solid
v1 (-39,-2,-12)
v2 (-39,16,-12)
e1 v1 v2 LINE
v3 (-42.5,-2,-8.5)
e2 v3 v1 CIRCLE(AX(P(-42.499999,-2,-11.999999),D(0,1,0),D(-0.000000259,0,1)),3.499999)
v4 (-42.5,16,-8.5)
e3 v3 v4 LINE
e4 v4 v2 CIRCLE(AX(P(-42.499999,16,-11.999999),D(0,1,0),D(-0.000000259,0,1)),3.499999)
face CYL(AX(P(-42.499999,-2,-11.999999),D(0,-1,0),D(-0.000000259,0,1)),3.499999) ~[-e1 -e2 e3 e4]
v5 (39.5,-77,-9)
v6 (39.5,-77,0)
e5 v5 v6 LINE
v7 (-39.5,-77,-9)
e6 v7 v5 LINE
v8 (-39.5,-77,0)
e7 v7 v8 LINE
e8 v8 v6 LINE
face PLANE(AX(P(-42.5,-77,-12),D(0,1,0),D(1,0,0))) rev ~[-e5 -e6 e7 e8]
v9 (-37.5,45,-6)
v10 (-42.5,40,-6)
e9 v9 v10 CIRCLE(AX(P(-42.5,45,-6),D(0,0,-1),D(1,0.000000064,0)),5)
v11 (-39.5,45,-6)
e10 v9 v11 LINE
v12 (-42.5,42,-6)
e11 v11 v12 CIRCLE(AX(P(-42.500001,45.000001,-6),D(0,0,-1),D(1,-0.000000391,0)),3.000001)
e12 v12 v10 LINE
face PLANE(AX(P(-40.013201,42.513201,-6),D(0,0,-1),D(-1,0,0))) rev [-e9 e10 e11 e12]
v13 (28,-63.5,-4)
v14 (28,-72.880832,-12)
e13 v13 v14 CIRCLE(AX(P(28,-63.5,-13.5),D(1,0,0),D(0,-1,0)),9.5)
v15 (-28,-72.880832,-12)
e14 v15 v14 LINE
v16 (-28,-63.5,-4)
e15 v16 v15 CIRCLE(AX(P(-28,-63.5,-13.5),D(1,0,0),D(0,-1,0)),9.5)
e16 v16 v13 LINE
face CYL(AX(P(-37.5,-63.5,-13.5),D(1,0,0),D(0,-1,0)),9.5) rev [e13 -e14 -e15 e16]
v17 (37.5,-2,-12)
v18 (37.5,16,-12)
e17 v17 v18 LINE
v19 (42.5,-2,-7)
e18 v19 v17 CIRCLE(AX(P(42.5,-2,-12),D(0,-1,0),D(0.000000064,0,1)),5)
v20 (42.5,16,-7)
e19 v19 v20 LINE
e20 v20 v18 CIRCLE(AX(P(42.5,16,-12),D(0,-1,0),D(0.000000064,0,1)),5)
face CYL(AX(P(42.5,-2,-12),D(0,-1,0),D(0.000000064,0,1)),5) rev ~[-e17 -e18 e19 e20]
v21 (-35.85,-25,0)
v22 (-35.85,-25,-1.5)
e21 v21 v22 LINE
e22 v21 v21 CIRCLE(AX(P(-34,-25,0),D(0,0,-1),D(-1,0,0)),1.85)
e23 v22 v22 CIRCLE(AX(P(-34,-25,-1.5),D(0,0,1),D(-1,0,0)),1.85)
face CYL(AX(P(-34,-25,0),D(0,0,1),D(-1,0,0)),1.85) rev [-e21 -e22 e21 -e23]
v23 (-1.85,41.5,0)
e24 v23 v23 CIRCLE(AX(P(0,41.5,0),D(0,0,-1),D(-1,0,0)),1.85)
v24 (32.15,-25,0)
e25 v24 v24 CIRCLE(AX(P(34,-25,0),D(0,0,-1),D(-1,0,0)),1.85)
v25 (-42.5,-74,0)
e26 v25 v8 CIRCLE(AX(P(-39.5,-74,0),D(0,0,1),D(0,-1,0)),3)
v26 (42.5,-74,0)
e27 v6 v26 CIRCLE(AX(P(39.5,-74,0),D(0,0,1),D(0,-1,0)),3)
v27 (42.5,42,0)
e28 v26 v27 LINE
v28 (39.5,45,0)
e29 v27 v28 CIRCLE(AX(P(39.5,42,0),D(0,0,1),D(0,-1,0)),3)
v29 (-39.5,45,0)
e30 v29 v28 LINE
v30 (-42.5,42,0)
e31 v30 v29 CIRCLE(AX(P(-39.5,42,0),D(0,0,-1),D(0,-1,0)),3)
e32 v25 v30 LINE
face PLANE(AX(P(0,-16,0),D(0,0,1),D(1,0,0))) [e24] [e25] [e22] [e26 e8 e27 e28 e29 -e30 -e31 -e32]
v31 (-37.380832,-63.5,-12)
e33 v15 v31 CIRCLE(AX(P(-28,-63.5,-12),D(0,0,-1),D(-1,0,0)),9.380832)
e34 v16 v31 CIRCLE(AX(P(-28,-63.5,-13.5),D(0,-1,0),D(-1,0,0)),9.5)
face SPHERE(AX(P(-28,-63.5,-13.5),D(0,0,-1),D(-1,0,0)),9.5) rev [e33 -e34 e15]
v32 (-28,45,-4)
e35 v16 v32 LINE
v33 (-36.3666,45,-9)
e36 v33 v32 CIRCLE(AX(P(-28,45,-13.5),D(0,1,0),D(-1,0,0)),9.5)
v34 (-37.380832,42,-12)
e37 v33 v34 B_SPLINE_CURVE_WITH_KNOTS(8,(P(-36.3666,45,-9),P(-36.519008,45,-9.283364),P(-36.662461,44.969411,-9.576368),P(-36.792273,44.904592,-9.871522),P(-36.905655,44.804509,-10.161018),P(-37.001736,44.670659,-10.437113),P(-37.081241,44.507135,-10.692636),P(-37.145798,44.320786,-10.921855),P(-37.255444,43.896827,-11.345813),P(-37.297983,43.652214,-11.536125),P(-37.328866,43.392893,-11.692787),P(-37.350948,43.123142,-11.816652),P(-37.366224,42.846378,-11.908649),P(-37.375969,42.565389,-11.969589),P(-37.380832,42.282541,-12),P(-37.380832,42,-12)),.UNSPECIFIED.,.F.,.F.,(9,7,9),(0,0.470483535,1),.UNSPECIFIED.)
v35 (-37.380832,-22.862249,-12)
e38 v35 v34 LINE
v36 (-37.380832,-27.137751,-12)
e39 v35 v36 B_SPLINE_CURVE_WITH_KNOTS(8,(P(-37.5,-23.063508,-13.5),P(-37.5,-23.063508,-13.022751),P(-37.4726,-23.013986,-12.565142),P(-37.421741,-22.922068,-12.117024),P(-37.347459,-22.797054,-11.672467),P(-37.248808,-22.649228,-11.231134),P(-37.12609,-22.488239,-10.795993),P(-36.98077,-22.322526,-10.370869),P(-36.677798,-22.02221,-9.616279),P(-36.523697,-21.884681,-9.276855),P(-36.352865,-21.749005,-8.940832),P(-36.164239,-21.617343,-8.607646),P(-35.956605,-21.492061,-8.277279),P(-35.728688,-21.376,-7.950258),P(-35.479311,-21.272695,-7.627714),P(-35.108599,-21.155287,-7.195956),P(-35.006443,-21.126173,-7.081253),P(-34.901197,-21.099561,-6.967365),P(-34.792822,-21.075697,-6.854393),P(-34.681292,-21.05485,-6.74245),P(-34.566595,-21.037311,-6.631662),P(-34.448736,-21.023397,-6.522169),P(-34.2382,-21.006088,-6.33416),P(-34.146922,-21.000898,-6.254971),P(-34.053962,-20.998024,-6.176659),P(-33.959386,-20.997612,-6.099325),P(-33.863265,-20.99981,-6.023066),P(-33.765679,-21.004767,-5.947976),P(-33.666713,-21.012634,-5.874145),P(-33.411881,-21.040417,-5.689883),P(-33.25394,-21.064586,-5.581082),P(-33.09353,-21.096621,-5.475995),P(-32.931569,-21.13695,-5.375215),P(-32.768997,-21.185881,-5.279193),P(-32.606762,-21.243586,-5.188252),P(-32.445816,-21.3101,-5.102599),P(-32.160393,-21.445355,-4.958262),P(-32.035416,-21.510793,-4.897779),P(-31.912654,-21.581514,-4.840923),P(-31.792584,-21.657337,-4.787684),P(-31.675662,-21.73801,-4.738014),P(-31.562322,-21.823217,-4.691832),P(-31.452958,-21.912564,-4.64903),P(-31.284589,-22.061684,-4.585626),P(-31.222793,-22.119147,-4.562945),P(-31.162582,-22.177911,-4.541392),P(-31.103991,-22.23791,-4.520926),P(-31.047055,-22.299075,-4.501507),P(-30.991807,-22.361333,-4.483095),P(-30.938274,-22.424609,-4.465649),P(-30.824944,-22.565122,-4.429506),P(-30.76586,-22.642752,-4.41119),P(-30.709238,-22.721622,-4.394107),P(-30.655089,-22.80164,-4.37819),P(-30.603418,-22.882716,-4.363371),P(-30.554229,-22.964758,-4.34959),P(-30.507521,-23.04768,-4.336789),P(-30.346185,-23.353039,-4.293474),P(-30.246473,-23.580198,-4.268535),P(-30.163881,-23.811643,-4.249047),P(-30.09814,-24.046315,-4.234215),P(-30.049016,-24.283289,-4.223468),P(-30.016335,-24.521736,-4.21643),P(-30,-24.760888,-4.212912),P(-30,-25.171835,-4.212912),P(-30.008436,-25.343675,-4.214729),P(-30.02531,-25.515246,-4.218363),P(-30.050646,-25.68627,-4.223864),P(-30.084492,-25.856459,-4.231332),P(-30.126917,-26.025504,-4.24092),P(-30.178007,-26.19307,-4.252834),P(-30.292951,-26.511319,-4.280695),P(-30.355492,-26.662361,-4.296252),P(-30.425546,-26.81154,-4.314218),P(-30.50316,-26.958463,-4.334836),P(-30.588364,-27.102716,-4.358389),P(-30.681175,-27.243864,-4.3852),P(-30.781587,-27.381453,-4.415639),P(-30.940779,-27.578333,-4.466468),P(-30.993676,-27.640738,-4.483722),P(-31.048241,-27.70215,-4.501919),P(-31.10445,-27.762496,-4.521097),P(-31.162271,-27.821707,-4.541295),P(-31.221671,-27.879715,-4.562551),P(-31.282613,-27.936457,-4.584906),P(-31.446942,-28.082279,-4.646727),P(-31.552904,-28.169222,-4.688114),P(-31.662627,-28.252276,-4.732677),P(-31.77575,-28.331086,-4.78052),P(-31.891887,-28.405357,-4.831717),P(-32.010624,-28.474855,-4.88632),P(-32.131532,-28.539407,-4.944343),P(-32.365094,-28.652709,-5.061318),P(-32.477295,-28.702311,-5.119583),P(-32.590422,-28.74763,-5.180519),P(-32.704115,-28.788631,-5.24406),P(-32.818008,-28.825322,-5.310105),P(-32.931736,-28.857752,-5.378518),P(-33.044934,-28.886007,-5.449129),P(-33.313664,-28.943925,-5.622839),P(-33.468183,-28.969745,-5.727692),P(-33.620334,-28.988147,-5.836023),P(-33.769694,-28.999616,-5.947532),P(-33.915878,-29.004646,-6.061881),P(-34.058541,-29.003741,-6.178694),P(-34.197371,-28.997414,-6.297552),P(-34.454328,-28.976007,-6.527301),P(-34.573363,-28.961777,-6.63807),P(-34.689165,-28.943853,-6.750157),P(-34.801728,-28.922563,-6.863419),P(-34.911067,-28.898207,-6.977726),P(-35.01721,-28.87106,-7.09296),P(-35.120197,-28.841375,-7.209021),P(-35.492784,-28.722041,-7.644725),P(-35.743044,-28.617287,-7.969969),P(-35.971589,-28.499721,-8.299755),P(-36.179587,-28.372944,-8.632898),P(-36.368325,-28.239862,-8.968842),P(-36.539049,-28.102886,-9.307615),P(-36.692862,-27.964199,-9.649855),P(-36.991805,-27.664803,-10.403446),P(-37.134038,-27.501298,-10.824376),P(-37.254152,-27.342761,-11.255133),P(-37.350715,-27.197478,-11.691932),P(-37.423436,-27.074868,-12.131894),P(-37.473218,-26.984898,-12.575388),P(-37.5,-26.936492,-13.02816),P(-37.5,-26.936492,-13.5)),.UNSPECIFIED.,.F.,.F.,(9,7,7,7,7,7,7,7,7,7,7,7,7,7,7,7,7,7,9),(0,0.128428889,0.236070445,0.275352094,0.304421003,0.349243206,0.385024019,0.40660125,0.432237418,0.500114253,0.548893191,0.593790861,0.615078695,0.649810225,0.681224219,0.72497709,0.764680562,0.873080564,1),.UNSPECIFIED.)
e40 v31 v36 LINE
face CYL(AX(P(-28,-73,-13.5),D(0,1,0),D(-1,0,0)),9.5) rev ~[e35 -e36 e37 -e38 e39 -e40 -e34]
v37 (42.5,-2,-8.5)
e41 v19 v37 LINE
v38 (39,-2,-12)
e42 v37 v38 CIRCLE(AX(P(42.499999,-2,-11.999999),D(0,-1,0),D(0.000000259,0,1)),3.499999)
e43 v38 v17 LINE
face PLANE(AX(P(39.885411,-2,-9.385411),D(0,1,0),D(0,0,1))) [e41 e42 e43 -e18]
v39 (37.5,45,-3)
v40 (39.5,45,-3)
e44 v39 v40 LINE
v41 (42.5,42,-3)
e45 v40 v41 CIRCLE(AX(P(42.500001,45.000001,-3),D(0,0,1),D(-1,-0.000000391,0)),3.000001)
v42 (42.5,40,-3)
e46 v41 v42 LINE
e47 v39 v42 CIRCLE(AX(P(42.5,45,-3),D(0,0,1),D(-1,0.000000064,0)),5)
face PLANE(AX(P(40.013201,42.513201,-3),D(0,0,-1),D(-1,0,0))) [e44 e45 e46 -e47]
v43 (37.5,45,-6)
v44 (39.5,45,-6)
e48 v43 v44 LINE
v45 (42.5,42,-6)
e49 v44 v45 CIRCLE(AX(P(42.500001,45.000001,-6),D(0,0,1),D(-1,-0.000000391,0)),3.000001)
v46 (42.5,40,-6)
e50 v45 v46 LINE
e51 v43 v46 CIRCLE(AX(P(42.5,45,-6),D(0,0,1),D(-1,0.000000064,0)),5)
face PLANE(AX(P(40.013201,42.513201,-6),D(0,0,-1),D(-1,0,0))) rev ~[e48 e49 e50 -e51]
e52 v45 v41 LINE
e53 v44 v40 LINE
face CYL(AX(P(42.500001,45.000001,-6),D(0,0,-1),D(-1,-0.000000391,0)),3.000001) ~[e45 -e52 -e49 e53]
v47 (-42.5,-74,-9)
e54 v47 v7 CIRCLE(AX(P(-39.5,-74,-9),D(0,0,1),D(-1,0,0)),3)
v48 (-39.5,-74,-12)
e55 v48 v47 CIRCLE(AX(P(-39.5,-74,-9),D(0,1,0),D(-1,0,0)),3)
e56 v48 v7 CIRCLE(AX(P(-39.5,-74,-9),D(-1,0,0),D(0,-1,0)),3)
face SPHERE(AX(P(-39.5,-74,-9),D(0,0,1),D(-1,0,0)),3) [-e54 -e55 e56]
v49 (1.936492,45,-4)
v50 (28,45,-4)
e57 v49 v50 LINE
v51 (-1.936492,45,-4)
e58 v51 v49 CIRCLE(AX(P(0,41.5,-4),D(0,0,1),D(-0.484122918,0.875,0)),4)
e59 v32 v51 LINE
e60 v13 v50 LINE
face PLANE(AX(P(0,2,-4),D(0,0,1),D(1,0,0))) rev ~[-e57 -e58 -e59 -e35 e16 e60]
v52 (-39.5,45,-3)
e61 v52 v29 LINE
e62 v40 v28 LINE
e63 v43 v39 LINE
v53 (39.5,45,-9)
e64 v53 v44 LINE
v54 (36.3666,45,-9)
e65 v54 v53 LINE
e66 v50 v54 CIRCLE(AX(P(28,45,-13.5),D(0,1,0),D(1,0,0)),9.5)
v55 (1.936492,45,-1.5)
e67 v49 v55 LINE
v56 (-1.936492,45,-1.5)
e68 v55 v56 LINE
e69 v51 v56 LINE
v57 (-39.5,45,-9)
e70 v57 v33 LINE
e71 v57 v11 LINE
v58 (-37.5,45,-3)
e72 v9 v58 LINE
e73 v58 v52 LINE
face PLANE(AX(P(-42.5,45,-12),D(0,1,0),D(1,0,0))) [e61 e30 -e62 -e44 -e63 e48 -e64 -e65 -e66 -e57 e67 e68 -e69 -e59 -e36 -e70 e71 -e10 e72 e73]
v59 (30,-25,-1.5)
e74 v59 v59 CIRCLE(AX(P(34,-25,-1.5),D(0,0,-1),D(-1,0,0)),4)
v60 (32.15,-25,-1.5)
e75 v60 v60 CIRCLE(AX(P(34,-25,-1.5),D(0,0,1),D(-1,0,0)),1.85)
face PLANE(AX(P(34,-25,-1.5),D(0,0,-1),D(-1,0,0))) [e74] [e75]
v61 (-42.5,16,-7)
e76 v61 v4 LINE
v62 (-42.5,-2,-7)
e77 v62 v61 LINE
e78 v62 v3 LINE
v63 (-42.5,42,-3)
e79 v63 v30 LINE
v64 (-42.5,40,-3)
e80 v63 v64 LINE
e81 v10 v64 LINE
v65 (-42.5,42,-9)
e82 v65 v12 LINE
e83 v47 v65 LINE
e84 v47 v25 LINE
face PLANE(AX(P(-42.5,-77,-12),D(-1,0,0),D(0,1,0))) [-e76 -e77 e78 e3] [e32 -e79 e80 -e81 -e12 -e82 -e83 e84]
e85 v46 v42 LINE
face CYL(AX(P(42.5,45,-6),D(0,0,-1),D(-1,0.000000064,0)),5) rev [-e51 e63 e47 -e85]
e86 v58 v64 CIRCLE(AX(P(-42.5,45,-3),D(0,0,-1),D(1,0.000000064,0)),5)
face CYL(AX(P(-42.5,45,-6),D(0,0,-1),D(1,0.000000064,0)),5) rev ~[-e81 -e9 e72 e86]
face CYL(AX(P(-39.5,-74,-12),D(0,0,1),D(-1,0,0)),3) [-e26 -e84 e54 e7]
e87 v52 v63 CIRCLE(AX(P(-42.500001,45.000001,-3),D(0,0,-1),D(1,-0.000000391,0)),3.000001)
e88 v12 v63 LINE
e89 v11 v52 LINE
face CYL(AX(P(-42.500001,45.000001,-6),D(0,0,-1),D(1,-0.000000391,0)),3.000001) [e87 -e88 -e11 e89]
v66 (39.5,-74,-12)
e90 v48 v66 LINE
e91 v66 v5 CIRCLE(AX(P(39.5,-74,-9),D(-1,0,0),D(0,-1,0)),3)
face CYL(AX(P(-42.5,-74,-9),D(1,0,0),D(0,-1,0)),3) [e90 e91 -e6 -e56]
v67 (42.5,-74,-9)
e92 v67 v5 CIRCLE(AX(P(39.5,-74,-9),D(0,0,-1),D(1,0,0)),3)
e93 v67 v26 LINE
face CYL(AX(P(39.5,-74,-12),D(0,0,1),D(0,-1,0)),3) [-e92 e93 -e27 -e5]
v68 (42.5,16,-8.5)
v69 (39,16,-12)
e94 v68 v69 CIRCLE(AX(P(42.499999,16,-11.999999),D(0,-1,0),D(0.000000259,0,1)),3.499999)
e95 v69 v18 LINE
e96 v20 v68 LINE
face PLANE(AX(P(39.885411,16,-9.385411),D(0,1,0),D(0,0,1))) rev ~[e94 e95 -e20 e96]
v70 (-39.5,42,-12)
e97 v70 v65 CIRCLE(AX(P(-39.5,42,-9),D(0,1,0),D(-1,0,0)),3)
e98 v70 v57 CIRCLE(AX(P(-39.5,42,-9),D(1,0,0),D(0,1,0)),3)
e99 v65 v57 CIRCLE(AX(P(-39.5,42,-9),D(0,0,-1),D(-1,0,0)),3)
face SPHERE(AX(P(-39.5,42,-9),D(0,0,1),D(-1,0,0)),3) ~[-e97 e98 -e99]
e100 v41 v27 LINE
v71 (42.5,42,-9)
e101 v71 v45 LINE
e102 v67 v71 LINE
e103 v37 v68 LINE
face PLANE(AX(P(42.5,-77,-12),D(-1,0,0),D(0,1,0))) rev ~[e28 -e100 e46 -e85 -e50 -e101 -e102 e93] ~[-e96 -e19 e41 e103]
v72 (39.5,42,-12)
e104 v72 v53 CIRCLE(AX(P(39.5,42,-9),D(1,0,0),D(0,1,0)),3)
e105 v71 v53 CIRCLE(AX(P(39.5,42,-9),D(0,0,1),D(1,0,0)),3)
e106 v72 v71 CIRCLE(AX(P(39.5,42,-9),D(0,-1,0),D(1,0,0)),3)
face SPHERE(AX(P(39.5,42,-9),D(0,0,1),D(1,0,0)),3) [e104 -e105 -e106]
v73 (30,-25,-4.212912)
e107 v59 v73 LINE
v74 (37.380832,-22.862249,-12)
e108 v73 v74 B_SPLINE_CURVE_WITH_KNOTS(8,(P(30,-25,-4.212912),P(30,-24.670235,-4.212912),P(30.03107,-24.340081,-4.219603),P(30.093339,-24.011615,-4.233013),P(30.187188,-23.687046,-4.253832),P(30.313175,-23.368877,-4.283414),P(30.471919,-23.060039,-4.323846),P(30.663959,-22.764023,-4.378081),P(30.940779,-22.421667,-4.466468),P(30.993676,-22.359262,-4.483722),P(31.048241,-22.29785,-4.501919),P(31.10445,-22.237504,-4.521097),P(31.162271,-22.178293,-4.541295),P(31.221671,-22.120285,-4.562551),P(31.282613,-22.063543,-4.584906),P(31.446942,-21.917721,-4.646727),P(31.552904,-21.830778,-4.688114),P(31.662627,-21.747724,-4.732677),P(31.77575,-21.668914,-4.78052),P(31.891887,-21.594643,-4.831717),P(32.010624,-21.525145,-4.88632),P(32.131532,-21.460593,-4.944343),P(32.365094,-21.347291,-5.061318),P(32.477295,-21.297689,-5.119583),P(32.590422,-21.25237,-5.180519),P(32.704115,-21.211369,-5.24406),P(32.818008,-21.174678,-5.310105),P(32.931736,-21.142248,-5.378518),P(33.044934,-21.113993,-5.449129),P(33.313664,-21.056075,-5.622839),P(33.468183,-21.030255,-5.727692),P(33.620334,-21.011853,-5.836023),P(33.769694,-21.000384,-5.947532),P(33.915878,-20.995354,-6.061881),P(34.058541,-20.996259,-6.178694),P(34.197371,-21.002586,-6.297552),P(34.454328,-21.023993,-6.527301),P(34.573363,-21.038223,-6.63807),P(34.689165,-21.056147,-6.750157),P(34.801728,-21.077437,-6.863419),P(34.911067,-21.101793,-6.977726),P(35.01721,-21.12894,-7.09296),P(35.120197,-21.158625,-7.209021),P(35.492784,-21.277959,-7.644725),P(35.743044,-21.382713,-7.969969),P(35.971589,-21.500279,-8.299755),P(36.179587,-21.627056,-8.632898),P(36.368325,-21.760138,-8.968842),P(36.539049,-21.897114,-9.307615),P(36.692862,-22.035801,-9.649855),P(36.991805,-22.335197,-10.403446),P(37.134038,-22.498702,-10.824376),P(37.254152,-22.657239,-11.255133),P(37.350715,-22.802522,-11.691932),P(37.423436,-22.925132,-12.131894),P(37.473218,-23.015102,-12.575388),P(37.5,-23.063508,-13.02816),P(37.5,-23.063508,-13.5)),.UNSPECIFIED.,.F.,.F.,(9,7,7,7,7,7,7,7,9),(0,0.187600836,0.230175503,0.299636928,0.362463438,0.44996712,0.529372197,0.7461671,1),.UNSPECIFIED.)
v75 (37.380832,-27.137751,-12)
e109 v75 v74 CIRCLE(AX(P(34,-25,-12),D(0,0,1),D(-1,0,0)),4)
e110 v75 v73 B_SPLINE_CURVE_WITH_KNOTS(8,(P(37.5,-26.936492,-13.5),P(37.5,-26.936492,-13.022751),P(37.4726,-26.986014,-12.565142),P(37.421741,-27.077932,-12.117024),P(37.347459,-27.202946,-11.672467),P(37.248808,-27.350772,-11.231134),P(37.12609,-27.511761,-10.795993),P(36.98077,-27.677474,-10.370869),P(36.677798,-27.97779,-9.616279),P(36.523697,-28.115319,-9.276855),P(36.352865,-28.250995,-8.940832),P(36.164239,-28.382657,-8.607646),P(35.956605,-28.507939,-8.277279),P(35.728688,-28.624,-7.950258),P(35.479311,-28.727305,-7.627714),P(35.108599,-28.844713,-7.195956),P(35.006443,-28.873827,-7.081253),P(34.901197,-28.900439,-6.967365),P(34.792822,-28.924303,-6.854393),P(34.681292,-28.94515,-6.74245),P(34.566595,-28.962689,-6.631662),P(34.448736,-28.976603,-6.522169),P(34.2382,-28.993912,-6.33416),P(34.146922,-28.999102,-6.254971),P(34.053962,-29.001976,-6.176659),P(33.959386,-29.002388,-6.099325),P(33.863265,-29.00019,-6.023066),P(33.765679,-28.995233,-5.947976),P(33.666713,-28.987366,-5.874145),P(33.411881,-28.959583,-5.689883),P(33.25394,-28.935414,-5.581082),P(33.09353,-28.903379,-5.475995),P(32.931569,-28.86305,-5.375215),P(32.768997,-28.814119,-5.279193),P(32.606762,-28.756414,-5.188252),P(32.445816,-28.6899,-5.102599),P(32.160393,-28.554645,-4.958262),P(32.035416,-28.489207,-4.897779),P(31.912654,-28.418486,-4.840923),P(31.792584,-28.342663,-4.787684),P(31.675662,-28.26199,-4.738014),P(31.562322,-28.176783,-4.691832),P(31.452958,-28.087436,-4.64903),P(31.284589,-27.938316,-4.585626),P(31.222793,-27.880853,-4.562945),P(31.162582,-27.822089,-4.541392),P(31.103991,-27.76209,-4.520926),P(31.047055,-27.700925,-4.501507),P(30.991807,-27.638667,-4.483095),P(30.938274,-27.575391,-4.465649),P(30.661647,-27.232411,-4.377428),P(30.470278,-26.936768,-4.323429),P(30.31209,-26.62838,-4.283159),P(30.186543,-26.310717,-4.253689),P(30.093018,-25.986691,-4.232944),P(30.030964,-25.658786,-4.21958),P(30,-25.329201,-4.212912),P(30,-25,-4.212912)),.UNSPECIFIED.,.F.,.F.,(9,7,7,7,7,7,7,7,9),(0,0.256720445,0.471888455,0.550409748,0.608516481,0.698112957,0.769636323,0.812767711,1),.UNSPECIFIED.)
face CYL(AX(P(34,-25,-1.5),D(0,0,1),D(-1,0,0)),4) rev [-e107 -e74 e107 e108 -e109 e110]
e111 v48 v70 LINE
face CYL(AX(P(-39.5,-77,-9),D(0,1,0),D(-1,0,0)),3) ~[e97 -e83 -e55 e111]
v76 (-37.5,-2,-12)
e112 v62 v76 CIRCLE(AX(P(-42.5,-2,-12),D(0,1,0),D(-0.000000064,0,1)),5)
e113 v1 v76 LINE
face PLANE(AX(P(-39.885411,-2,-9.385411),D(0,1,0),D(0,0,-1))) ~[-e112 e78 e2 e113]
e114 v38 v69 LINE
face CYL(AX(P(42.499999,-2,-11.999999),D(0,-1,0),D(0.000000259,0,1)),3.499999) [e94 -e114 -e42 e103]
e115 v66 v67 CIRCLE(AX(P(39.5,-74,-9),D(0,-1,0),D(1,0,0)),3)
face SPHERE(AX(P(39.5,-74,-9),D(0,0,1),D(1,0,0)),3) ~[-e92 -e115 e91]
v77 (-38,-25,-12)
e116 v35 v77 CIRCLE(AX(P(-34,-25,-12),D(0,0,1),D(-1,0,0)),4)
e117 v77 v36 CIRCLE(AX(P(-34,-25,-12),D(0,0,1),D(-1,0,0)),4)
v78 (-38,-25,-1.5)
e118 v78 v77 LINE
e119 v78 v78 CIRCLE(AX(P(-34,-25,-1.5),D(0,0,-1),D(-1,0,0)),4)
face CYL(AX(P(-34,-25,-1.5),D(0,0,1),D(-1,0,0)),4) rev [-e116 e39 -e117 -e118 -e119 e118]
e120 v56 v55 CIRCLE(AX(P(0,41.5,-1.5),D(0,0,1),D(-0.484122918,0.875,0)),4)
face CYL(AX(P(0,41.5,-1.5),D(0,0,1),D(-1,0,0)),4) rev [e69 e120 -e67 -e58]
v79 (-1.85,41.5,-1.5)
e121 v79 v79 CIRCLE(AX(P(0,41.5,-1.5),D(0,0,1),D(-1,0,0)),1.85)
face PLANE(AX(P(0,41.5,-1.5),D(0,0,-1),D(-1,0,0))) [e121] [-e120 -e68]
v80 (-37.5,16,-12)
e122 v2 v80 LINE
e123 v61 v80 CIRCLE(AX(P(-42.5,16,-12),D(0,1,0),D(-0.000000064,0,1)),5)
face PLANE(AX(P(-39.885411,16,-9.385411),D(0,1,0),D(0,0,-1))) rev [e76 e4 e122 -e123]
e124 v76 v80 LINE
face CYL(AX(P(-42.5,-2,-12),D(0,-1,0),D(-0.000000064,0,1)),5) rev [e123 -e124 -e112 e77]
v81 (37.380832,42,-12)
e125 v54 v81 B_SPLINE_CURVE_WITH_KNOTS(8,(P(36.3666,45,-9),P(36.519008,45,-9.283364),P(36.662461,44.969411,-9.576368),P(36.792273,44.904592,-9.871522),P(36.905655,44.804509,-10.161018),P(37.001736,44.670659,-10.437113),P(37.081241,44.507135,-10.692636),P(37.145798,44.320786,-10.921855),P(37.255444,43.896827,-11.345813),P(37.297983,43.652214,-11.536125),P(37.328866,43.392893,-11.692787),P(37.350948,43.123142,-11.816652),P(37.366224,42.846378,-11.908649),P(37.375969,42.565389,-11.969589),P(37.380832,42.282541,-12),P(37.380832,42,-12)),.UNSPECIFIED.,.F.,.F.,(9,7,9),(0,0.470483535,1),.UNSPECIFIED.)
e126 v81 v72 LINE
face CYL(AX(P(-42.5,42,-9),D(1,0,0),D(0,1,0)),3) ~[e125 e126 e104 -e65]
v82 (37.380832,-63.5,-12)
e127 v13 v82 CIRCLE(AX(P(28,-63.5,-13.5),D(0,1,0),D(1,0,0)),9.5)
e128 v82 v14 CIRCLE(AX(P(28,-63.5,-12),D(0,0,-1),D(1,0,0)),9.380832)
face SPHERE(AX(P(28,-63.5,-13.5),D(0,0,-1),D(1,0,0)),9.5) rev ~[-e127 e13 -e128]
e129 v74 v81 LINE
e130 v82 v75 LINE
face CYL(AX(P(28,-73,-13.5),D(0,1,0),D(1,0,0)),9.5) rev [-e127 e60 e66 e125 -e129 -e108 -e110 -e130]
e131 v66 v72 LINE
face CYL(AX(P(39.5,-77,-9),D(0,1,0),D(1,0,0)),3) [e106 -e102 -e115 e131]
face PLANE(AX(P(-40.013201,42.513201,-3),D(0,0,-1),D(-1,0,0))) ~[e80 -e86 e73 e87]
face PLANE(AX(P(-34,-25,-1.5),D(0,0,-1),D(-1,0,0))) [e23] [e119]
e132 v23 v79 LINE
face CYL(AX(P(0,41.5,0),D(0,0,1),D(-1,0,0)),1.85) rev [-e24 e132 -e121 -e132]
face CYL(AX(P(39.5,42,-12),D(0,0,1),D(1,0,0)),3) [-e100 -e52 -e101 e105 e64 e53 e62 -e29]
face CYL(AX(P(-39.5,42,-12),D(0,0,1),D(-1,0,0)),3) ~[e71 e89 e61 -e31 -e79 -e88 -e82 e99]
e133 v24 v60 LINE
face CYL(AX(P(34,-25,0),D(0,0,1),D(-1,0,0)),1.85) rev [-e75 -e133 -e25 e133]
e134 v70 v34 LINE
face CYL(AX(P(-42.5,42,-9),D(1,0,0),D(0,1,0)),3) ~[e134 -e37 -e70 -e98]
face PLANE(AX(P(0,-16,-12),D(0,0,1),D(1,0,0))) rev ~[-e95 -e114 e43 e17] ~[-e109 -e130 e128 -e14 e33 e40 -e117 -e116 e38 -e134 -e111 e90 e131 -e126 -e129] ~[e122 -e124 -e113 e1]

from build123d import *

# Parameters (mm, degrees)
EXTRUDE032_DEPTH           = 3
EXTRUDE033_DEPTH           = 3
CYLINDER057_R              = 4
CYLINDER057_DEPTH          = 12
CYLINDER055_R              = 4
CYLINDER055_DEPTH          = 12
CYLINDER053_R              = 1.85
CYLINDER053_DEPTH          = 12
CYLINDER054_R              = 1.85
CYLINDER054_DEPTH          = 12
CYLINDER056_R              = 4
CYLINDER056_DEPTH          = 12
CYLINDER052_R              = 1.85
CYLINDER052_DEPTH          = 12
EXTRUDE035_DEPTH           = 18
EXTRUDE035_PLACEMENT_ANGLE = 90
EXTRUDE034_DEPTH           = 18
EXTRUDE034_PLACEMENT_ANGLE = 90
BOX019_W                   = 75
BOX019_H                   = 150
BOX019_DEPTH               = 25
FILLET017_R                = 9.5
BOX018_W                   = 85
BOX018_H                   = 122
BOX018_DEPTH               = 12
FILLET016_R                = 3


with BuildPart() as batterybackattachpocket:
    # Sketch007 → Extrude032 (new body)
    with BuildSketch(Plane.XY):
        with BuildLine():
            ThreePointArc((-3, 0), (-2.12132, -2.12132), (0, -3))
            Line((0, -3), (0, -5))
            ThreePointArc((-5, 0), (-3.535534, -3.535534), (0, -5))
            Line((-5, 0), (-3, 0))
        make_face()
    extrude(amount=EXTRUDE032_DEPTH)


with BuildPart() as batterybackattachpocket_1:
    # Extrude032 placement: moved
    add(batterybackattachpocket.part.moved(Location((42.5, 45, -6))))


with BuildPart() as batterybackattachpocketleft:
    # Part__Mirroring004: instance of BatteryBackAttachPocket
    add(batterybackattachpocket_1.part.mirror(Plane(origin=(0, 0, 0), x_dir=(0, -1, 0), z_dir=(1, 0, 0))))


with BuildPart() as batterybackattachpocketright:
    # Sketch008 → Extrude033 (new body)
    with BuildSketch(Plane.XY):
        with BuildLine():
            ThreePointArc((-3, 0), (-2.12132, -2.12132), (0, -3))
            Line((0, -3), (0, -5))
            ThreePointArc((-5, 0), (-3.535534, -3.535534), (0, -5))
            Line((-5, 0), (-3, 0))
        make_face()
    extrude(amount=EXTRUDE033_DEPTH)


with BuildPart() as batterybackattachpocketright_1:
    # Extrude033 placement: moved
    add(batterybackattachpocketright.part.moved(Location((42.5, 45, -6))))


with BuildPart() as batterybackscrewcountersink3:
    # Cylinder057 → Cylinder057 (new body)
    with BuildSketch(Plane(origin=(34, -25, -1.5), x_dir=(-1, 0, 0), z_dir=(0, 0, -1))):
        Circle(CYLINDER057_R)
    extrude(amount=CYLINDER057_DEPTH)


with BuildPart() as batterybackscrewcountersink1:
    # Cylinder055 → Cylinder055 (new body)
    with BuildSketch(Plane(origin=(0, 41.5, -1.5), x_dir=(-1, 0, 0), z_dir=(0, 0, -1))):
        Circle(CYLINDER055_R)
    extrude(amount=CYLINDER055_DEPTH)


with BuildPart() as batterybackscrewhole2:
    # Cylinder053 → Cylinder053 (new body)
    with BuildSketch(Plane(origin=(-34, -25, 0), x_dir=(-1, 0, 0), z_dir=(0, 0, -1))):
        Circle(CYLINDER053_R)
    extrude(amount=CYLINDER053_DEPTH)


with BuildPart() as batterybackscrewhole3:
    # Cylinder054 → Cylinder054 (new body)
    with BuildSketch(Plane(origin=(34, -25, 0), x_dir=(-1, 0, 0), z_dir=(0, 0, -1))):
        Circle(CYLINDER054_R)
    extrude(amount=CYLINDER054_DEPTH)


with BuildPart() as batterybackscrewcountersink2:
    # Cylinder056 → Cylinder056 (new body)
    with BuildSketch(Plane(origin=(-34, -25, -1.5), x_dir=(-1, 0, 0), z_dir=(0, 0, -1))):
        Circle(CYLINDER056_R)
    extrude(amount=CYLINDER056_DEPTH)


with BuildPart() as batterymountingpockets:
    # Cylinder052 → Cylinder052 (new body)
    with BuildSketch(Plane(origin=(0, 41.5, 0), x_dir=(-1, 0, 0), z_dir=(0, 0, -1))):
        Circle(CYLINDER052_R)
    extrude(amount=CYLINDER052_DEPTH)

    # Fusion048: union BatteryBackScrewCountersink3, BatteryBackScrewCountersink1, BatteryBackScrewHole2, BatteryBackScrewHole3, BatteryBackScrewCountersink2
    add(batterybackscrewcountersink3.part)
    add(batterybackscrewcountersink1.part)
    add(batterybackscrewhole2.part)
    add(batterybackscrewhole3.part)
    add(batterybackscrewcountersink2.part)


with BuildPart() as batterybackstrappocketleft:
    # Sketch010 → Extrude035 (new body)
    with BuildSketch(Plane.XZ):
        with BuildLine():
            ThreePointArc((-3.5, 0), (-2.474874, -2.474874), (0, -3.5))
            Line((0, -3.5), (0, -5))
            ThreePointArc((-5, 0), (-3.535534, -3.535534), (0, -5))
            Line((-5, 0), (-3.5, 0))
        make_face()
    extrude(amount=-EXTRUDE035_DEPTH)


with BuildPart() as batterybackstrappocketleft_1:
    # Extrude035 placement: moved
    add(batterybackstrappocketleft.part.moved(Location((42.5, -2, -12))).rotate(Axis((42.5, -2, -12), (0, 1, 0)), EXTRUDE035_PLACEMENT_ANGLE))


with BuildPart() as batterybackstrappocket:
    # Sketch009 → Extrude034 (new body)
    with BuildSketch(Plane.XZ):
        with BuildLine():
            ThreePointArc((-3.5, 0), (-2.474874, -2.474874), (0, -3.5))
            Line((0, -3.5), (0, -5))
            ThreePointArc((-5, 0), (-3.535534, -3.535534), (0, -5))
            Line((-5, 0), (-3.5, 0))
        make_face()
    extrude(amount=-EXTRUDE034_DEPTH)


with BuildPart() as batterybackstrappocket_1:
    # Extrude034 placement: moved
    add(batterybackstrappocket.part.moved(Location((42.5, -2, -12))).rotate(Axis((42.5, -2, -12), (0, 1, 0)), EXTRUDE034_PLACEMENT_ANGLE))


with BuildPart() as batterybackstrappocketright:
    # Part__Mirroring005: instance of BatteryBackStrapPocket
    add(batterybackstrappocket_1.part.mirror(Plane(origin=(0, 0, 0), x_dir=(0, -1, 0), z_dir=(1, 0, 0))))


with BuildPart() as batterybackcombinedpockets:
    # Box019 → Box019 (new body)
    with BuildSketch(Plane(origin=(-37.5, -73, -29), x_dir=(1, 0, 0), z_dir=(0, 0, 1))):
        with Locations((37.5, 75)):
            Rectangle(BOX019_W, BOX019_H)
    extrude(amount=BOX019_DEPTH)

    # Fillet017
    fillet017_edges = [batterybackcombinedpockets.edges().sort_by_distance(p)[0] for p in [
        (-37.5, -73, -16.5),
        (-37.5, 2, -4),
        (-37.5, 77, -16.5),
        (-37.5, 2, -29),
        (37.5, -73, -16.5),
        (37.5, 2, -4),
        (37.5, 77, -16.5),
        (37.5, 2, -29),
        (0, -73, -29),
        (0, -73, -4),
        (0, 77, -29),
        (0, 77, -4),
    ]]
    fillet(fillet017_edges, radius=FILLET017_R)

    # Fusion049: union BatteryBackAttachPocketLeft, BatteryBackAttachPocketRight, BatteryMountingPockets, BatteryBackStrapPocketLeft, BatteryBackStrapPocketRight
    add(batterybackattachpocketleft.part)
    add(batterybackattachpocketright_1.part)
    add(batterymountingpockets.part)
    add(batterybackstrappocketleft_1.part)
    add(batterybackstrappocketright.part)


with BuildPart() as toplevelpart_battteryback:
    # Box018 → Box018 (new body)
    with BuildSketch(Plane(origin=(-42.5, -77, -12), x_dir=(1, 0, 0), z_dir=(0, 0, 1))):
        with Locations((42.5, 61)):
            Rectangle(BOX018_W, BOX018_H)
    extrude(amount=BOX018_DEPTH)

    # Fillet016
    fillet016_edges = [toplevelpart_battteryback.edges().sort_by_distance(p)[0] for p in [
        (-42.5, -77, -6),
        (-42.5, 45, -6),
        (-42.5, -16, -12),
        (42.5, -77, -6),
        (42.5, 45, -6),
        (42.5, -16, -12),
        (0, -77, -12),
        (0, 45, -12),
    ]]
    fillet(fillet016_edges, radius=FILLET016_R)

    # Cut013: cut BatteryBackCombinedPockets
    add(batterybackcombinedpockets.part, mode=Mode.SUBTRACT)


solid = toplevelpart_battteryback.part
